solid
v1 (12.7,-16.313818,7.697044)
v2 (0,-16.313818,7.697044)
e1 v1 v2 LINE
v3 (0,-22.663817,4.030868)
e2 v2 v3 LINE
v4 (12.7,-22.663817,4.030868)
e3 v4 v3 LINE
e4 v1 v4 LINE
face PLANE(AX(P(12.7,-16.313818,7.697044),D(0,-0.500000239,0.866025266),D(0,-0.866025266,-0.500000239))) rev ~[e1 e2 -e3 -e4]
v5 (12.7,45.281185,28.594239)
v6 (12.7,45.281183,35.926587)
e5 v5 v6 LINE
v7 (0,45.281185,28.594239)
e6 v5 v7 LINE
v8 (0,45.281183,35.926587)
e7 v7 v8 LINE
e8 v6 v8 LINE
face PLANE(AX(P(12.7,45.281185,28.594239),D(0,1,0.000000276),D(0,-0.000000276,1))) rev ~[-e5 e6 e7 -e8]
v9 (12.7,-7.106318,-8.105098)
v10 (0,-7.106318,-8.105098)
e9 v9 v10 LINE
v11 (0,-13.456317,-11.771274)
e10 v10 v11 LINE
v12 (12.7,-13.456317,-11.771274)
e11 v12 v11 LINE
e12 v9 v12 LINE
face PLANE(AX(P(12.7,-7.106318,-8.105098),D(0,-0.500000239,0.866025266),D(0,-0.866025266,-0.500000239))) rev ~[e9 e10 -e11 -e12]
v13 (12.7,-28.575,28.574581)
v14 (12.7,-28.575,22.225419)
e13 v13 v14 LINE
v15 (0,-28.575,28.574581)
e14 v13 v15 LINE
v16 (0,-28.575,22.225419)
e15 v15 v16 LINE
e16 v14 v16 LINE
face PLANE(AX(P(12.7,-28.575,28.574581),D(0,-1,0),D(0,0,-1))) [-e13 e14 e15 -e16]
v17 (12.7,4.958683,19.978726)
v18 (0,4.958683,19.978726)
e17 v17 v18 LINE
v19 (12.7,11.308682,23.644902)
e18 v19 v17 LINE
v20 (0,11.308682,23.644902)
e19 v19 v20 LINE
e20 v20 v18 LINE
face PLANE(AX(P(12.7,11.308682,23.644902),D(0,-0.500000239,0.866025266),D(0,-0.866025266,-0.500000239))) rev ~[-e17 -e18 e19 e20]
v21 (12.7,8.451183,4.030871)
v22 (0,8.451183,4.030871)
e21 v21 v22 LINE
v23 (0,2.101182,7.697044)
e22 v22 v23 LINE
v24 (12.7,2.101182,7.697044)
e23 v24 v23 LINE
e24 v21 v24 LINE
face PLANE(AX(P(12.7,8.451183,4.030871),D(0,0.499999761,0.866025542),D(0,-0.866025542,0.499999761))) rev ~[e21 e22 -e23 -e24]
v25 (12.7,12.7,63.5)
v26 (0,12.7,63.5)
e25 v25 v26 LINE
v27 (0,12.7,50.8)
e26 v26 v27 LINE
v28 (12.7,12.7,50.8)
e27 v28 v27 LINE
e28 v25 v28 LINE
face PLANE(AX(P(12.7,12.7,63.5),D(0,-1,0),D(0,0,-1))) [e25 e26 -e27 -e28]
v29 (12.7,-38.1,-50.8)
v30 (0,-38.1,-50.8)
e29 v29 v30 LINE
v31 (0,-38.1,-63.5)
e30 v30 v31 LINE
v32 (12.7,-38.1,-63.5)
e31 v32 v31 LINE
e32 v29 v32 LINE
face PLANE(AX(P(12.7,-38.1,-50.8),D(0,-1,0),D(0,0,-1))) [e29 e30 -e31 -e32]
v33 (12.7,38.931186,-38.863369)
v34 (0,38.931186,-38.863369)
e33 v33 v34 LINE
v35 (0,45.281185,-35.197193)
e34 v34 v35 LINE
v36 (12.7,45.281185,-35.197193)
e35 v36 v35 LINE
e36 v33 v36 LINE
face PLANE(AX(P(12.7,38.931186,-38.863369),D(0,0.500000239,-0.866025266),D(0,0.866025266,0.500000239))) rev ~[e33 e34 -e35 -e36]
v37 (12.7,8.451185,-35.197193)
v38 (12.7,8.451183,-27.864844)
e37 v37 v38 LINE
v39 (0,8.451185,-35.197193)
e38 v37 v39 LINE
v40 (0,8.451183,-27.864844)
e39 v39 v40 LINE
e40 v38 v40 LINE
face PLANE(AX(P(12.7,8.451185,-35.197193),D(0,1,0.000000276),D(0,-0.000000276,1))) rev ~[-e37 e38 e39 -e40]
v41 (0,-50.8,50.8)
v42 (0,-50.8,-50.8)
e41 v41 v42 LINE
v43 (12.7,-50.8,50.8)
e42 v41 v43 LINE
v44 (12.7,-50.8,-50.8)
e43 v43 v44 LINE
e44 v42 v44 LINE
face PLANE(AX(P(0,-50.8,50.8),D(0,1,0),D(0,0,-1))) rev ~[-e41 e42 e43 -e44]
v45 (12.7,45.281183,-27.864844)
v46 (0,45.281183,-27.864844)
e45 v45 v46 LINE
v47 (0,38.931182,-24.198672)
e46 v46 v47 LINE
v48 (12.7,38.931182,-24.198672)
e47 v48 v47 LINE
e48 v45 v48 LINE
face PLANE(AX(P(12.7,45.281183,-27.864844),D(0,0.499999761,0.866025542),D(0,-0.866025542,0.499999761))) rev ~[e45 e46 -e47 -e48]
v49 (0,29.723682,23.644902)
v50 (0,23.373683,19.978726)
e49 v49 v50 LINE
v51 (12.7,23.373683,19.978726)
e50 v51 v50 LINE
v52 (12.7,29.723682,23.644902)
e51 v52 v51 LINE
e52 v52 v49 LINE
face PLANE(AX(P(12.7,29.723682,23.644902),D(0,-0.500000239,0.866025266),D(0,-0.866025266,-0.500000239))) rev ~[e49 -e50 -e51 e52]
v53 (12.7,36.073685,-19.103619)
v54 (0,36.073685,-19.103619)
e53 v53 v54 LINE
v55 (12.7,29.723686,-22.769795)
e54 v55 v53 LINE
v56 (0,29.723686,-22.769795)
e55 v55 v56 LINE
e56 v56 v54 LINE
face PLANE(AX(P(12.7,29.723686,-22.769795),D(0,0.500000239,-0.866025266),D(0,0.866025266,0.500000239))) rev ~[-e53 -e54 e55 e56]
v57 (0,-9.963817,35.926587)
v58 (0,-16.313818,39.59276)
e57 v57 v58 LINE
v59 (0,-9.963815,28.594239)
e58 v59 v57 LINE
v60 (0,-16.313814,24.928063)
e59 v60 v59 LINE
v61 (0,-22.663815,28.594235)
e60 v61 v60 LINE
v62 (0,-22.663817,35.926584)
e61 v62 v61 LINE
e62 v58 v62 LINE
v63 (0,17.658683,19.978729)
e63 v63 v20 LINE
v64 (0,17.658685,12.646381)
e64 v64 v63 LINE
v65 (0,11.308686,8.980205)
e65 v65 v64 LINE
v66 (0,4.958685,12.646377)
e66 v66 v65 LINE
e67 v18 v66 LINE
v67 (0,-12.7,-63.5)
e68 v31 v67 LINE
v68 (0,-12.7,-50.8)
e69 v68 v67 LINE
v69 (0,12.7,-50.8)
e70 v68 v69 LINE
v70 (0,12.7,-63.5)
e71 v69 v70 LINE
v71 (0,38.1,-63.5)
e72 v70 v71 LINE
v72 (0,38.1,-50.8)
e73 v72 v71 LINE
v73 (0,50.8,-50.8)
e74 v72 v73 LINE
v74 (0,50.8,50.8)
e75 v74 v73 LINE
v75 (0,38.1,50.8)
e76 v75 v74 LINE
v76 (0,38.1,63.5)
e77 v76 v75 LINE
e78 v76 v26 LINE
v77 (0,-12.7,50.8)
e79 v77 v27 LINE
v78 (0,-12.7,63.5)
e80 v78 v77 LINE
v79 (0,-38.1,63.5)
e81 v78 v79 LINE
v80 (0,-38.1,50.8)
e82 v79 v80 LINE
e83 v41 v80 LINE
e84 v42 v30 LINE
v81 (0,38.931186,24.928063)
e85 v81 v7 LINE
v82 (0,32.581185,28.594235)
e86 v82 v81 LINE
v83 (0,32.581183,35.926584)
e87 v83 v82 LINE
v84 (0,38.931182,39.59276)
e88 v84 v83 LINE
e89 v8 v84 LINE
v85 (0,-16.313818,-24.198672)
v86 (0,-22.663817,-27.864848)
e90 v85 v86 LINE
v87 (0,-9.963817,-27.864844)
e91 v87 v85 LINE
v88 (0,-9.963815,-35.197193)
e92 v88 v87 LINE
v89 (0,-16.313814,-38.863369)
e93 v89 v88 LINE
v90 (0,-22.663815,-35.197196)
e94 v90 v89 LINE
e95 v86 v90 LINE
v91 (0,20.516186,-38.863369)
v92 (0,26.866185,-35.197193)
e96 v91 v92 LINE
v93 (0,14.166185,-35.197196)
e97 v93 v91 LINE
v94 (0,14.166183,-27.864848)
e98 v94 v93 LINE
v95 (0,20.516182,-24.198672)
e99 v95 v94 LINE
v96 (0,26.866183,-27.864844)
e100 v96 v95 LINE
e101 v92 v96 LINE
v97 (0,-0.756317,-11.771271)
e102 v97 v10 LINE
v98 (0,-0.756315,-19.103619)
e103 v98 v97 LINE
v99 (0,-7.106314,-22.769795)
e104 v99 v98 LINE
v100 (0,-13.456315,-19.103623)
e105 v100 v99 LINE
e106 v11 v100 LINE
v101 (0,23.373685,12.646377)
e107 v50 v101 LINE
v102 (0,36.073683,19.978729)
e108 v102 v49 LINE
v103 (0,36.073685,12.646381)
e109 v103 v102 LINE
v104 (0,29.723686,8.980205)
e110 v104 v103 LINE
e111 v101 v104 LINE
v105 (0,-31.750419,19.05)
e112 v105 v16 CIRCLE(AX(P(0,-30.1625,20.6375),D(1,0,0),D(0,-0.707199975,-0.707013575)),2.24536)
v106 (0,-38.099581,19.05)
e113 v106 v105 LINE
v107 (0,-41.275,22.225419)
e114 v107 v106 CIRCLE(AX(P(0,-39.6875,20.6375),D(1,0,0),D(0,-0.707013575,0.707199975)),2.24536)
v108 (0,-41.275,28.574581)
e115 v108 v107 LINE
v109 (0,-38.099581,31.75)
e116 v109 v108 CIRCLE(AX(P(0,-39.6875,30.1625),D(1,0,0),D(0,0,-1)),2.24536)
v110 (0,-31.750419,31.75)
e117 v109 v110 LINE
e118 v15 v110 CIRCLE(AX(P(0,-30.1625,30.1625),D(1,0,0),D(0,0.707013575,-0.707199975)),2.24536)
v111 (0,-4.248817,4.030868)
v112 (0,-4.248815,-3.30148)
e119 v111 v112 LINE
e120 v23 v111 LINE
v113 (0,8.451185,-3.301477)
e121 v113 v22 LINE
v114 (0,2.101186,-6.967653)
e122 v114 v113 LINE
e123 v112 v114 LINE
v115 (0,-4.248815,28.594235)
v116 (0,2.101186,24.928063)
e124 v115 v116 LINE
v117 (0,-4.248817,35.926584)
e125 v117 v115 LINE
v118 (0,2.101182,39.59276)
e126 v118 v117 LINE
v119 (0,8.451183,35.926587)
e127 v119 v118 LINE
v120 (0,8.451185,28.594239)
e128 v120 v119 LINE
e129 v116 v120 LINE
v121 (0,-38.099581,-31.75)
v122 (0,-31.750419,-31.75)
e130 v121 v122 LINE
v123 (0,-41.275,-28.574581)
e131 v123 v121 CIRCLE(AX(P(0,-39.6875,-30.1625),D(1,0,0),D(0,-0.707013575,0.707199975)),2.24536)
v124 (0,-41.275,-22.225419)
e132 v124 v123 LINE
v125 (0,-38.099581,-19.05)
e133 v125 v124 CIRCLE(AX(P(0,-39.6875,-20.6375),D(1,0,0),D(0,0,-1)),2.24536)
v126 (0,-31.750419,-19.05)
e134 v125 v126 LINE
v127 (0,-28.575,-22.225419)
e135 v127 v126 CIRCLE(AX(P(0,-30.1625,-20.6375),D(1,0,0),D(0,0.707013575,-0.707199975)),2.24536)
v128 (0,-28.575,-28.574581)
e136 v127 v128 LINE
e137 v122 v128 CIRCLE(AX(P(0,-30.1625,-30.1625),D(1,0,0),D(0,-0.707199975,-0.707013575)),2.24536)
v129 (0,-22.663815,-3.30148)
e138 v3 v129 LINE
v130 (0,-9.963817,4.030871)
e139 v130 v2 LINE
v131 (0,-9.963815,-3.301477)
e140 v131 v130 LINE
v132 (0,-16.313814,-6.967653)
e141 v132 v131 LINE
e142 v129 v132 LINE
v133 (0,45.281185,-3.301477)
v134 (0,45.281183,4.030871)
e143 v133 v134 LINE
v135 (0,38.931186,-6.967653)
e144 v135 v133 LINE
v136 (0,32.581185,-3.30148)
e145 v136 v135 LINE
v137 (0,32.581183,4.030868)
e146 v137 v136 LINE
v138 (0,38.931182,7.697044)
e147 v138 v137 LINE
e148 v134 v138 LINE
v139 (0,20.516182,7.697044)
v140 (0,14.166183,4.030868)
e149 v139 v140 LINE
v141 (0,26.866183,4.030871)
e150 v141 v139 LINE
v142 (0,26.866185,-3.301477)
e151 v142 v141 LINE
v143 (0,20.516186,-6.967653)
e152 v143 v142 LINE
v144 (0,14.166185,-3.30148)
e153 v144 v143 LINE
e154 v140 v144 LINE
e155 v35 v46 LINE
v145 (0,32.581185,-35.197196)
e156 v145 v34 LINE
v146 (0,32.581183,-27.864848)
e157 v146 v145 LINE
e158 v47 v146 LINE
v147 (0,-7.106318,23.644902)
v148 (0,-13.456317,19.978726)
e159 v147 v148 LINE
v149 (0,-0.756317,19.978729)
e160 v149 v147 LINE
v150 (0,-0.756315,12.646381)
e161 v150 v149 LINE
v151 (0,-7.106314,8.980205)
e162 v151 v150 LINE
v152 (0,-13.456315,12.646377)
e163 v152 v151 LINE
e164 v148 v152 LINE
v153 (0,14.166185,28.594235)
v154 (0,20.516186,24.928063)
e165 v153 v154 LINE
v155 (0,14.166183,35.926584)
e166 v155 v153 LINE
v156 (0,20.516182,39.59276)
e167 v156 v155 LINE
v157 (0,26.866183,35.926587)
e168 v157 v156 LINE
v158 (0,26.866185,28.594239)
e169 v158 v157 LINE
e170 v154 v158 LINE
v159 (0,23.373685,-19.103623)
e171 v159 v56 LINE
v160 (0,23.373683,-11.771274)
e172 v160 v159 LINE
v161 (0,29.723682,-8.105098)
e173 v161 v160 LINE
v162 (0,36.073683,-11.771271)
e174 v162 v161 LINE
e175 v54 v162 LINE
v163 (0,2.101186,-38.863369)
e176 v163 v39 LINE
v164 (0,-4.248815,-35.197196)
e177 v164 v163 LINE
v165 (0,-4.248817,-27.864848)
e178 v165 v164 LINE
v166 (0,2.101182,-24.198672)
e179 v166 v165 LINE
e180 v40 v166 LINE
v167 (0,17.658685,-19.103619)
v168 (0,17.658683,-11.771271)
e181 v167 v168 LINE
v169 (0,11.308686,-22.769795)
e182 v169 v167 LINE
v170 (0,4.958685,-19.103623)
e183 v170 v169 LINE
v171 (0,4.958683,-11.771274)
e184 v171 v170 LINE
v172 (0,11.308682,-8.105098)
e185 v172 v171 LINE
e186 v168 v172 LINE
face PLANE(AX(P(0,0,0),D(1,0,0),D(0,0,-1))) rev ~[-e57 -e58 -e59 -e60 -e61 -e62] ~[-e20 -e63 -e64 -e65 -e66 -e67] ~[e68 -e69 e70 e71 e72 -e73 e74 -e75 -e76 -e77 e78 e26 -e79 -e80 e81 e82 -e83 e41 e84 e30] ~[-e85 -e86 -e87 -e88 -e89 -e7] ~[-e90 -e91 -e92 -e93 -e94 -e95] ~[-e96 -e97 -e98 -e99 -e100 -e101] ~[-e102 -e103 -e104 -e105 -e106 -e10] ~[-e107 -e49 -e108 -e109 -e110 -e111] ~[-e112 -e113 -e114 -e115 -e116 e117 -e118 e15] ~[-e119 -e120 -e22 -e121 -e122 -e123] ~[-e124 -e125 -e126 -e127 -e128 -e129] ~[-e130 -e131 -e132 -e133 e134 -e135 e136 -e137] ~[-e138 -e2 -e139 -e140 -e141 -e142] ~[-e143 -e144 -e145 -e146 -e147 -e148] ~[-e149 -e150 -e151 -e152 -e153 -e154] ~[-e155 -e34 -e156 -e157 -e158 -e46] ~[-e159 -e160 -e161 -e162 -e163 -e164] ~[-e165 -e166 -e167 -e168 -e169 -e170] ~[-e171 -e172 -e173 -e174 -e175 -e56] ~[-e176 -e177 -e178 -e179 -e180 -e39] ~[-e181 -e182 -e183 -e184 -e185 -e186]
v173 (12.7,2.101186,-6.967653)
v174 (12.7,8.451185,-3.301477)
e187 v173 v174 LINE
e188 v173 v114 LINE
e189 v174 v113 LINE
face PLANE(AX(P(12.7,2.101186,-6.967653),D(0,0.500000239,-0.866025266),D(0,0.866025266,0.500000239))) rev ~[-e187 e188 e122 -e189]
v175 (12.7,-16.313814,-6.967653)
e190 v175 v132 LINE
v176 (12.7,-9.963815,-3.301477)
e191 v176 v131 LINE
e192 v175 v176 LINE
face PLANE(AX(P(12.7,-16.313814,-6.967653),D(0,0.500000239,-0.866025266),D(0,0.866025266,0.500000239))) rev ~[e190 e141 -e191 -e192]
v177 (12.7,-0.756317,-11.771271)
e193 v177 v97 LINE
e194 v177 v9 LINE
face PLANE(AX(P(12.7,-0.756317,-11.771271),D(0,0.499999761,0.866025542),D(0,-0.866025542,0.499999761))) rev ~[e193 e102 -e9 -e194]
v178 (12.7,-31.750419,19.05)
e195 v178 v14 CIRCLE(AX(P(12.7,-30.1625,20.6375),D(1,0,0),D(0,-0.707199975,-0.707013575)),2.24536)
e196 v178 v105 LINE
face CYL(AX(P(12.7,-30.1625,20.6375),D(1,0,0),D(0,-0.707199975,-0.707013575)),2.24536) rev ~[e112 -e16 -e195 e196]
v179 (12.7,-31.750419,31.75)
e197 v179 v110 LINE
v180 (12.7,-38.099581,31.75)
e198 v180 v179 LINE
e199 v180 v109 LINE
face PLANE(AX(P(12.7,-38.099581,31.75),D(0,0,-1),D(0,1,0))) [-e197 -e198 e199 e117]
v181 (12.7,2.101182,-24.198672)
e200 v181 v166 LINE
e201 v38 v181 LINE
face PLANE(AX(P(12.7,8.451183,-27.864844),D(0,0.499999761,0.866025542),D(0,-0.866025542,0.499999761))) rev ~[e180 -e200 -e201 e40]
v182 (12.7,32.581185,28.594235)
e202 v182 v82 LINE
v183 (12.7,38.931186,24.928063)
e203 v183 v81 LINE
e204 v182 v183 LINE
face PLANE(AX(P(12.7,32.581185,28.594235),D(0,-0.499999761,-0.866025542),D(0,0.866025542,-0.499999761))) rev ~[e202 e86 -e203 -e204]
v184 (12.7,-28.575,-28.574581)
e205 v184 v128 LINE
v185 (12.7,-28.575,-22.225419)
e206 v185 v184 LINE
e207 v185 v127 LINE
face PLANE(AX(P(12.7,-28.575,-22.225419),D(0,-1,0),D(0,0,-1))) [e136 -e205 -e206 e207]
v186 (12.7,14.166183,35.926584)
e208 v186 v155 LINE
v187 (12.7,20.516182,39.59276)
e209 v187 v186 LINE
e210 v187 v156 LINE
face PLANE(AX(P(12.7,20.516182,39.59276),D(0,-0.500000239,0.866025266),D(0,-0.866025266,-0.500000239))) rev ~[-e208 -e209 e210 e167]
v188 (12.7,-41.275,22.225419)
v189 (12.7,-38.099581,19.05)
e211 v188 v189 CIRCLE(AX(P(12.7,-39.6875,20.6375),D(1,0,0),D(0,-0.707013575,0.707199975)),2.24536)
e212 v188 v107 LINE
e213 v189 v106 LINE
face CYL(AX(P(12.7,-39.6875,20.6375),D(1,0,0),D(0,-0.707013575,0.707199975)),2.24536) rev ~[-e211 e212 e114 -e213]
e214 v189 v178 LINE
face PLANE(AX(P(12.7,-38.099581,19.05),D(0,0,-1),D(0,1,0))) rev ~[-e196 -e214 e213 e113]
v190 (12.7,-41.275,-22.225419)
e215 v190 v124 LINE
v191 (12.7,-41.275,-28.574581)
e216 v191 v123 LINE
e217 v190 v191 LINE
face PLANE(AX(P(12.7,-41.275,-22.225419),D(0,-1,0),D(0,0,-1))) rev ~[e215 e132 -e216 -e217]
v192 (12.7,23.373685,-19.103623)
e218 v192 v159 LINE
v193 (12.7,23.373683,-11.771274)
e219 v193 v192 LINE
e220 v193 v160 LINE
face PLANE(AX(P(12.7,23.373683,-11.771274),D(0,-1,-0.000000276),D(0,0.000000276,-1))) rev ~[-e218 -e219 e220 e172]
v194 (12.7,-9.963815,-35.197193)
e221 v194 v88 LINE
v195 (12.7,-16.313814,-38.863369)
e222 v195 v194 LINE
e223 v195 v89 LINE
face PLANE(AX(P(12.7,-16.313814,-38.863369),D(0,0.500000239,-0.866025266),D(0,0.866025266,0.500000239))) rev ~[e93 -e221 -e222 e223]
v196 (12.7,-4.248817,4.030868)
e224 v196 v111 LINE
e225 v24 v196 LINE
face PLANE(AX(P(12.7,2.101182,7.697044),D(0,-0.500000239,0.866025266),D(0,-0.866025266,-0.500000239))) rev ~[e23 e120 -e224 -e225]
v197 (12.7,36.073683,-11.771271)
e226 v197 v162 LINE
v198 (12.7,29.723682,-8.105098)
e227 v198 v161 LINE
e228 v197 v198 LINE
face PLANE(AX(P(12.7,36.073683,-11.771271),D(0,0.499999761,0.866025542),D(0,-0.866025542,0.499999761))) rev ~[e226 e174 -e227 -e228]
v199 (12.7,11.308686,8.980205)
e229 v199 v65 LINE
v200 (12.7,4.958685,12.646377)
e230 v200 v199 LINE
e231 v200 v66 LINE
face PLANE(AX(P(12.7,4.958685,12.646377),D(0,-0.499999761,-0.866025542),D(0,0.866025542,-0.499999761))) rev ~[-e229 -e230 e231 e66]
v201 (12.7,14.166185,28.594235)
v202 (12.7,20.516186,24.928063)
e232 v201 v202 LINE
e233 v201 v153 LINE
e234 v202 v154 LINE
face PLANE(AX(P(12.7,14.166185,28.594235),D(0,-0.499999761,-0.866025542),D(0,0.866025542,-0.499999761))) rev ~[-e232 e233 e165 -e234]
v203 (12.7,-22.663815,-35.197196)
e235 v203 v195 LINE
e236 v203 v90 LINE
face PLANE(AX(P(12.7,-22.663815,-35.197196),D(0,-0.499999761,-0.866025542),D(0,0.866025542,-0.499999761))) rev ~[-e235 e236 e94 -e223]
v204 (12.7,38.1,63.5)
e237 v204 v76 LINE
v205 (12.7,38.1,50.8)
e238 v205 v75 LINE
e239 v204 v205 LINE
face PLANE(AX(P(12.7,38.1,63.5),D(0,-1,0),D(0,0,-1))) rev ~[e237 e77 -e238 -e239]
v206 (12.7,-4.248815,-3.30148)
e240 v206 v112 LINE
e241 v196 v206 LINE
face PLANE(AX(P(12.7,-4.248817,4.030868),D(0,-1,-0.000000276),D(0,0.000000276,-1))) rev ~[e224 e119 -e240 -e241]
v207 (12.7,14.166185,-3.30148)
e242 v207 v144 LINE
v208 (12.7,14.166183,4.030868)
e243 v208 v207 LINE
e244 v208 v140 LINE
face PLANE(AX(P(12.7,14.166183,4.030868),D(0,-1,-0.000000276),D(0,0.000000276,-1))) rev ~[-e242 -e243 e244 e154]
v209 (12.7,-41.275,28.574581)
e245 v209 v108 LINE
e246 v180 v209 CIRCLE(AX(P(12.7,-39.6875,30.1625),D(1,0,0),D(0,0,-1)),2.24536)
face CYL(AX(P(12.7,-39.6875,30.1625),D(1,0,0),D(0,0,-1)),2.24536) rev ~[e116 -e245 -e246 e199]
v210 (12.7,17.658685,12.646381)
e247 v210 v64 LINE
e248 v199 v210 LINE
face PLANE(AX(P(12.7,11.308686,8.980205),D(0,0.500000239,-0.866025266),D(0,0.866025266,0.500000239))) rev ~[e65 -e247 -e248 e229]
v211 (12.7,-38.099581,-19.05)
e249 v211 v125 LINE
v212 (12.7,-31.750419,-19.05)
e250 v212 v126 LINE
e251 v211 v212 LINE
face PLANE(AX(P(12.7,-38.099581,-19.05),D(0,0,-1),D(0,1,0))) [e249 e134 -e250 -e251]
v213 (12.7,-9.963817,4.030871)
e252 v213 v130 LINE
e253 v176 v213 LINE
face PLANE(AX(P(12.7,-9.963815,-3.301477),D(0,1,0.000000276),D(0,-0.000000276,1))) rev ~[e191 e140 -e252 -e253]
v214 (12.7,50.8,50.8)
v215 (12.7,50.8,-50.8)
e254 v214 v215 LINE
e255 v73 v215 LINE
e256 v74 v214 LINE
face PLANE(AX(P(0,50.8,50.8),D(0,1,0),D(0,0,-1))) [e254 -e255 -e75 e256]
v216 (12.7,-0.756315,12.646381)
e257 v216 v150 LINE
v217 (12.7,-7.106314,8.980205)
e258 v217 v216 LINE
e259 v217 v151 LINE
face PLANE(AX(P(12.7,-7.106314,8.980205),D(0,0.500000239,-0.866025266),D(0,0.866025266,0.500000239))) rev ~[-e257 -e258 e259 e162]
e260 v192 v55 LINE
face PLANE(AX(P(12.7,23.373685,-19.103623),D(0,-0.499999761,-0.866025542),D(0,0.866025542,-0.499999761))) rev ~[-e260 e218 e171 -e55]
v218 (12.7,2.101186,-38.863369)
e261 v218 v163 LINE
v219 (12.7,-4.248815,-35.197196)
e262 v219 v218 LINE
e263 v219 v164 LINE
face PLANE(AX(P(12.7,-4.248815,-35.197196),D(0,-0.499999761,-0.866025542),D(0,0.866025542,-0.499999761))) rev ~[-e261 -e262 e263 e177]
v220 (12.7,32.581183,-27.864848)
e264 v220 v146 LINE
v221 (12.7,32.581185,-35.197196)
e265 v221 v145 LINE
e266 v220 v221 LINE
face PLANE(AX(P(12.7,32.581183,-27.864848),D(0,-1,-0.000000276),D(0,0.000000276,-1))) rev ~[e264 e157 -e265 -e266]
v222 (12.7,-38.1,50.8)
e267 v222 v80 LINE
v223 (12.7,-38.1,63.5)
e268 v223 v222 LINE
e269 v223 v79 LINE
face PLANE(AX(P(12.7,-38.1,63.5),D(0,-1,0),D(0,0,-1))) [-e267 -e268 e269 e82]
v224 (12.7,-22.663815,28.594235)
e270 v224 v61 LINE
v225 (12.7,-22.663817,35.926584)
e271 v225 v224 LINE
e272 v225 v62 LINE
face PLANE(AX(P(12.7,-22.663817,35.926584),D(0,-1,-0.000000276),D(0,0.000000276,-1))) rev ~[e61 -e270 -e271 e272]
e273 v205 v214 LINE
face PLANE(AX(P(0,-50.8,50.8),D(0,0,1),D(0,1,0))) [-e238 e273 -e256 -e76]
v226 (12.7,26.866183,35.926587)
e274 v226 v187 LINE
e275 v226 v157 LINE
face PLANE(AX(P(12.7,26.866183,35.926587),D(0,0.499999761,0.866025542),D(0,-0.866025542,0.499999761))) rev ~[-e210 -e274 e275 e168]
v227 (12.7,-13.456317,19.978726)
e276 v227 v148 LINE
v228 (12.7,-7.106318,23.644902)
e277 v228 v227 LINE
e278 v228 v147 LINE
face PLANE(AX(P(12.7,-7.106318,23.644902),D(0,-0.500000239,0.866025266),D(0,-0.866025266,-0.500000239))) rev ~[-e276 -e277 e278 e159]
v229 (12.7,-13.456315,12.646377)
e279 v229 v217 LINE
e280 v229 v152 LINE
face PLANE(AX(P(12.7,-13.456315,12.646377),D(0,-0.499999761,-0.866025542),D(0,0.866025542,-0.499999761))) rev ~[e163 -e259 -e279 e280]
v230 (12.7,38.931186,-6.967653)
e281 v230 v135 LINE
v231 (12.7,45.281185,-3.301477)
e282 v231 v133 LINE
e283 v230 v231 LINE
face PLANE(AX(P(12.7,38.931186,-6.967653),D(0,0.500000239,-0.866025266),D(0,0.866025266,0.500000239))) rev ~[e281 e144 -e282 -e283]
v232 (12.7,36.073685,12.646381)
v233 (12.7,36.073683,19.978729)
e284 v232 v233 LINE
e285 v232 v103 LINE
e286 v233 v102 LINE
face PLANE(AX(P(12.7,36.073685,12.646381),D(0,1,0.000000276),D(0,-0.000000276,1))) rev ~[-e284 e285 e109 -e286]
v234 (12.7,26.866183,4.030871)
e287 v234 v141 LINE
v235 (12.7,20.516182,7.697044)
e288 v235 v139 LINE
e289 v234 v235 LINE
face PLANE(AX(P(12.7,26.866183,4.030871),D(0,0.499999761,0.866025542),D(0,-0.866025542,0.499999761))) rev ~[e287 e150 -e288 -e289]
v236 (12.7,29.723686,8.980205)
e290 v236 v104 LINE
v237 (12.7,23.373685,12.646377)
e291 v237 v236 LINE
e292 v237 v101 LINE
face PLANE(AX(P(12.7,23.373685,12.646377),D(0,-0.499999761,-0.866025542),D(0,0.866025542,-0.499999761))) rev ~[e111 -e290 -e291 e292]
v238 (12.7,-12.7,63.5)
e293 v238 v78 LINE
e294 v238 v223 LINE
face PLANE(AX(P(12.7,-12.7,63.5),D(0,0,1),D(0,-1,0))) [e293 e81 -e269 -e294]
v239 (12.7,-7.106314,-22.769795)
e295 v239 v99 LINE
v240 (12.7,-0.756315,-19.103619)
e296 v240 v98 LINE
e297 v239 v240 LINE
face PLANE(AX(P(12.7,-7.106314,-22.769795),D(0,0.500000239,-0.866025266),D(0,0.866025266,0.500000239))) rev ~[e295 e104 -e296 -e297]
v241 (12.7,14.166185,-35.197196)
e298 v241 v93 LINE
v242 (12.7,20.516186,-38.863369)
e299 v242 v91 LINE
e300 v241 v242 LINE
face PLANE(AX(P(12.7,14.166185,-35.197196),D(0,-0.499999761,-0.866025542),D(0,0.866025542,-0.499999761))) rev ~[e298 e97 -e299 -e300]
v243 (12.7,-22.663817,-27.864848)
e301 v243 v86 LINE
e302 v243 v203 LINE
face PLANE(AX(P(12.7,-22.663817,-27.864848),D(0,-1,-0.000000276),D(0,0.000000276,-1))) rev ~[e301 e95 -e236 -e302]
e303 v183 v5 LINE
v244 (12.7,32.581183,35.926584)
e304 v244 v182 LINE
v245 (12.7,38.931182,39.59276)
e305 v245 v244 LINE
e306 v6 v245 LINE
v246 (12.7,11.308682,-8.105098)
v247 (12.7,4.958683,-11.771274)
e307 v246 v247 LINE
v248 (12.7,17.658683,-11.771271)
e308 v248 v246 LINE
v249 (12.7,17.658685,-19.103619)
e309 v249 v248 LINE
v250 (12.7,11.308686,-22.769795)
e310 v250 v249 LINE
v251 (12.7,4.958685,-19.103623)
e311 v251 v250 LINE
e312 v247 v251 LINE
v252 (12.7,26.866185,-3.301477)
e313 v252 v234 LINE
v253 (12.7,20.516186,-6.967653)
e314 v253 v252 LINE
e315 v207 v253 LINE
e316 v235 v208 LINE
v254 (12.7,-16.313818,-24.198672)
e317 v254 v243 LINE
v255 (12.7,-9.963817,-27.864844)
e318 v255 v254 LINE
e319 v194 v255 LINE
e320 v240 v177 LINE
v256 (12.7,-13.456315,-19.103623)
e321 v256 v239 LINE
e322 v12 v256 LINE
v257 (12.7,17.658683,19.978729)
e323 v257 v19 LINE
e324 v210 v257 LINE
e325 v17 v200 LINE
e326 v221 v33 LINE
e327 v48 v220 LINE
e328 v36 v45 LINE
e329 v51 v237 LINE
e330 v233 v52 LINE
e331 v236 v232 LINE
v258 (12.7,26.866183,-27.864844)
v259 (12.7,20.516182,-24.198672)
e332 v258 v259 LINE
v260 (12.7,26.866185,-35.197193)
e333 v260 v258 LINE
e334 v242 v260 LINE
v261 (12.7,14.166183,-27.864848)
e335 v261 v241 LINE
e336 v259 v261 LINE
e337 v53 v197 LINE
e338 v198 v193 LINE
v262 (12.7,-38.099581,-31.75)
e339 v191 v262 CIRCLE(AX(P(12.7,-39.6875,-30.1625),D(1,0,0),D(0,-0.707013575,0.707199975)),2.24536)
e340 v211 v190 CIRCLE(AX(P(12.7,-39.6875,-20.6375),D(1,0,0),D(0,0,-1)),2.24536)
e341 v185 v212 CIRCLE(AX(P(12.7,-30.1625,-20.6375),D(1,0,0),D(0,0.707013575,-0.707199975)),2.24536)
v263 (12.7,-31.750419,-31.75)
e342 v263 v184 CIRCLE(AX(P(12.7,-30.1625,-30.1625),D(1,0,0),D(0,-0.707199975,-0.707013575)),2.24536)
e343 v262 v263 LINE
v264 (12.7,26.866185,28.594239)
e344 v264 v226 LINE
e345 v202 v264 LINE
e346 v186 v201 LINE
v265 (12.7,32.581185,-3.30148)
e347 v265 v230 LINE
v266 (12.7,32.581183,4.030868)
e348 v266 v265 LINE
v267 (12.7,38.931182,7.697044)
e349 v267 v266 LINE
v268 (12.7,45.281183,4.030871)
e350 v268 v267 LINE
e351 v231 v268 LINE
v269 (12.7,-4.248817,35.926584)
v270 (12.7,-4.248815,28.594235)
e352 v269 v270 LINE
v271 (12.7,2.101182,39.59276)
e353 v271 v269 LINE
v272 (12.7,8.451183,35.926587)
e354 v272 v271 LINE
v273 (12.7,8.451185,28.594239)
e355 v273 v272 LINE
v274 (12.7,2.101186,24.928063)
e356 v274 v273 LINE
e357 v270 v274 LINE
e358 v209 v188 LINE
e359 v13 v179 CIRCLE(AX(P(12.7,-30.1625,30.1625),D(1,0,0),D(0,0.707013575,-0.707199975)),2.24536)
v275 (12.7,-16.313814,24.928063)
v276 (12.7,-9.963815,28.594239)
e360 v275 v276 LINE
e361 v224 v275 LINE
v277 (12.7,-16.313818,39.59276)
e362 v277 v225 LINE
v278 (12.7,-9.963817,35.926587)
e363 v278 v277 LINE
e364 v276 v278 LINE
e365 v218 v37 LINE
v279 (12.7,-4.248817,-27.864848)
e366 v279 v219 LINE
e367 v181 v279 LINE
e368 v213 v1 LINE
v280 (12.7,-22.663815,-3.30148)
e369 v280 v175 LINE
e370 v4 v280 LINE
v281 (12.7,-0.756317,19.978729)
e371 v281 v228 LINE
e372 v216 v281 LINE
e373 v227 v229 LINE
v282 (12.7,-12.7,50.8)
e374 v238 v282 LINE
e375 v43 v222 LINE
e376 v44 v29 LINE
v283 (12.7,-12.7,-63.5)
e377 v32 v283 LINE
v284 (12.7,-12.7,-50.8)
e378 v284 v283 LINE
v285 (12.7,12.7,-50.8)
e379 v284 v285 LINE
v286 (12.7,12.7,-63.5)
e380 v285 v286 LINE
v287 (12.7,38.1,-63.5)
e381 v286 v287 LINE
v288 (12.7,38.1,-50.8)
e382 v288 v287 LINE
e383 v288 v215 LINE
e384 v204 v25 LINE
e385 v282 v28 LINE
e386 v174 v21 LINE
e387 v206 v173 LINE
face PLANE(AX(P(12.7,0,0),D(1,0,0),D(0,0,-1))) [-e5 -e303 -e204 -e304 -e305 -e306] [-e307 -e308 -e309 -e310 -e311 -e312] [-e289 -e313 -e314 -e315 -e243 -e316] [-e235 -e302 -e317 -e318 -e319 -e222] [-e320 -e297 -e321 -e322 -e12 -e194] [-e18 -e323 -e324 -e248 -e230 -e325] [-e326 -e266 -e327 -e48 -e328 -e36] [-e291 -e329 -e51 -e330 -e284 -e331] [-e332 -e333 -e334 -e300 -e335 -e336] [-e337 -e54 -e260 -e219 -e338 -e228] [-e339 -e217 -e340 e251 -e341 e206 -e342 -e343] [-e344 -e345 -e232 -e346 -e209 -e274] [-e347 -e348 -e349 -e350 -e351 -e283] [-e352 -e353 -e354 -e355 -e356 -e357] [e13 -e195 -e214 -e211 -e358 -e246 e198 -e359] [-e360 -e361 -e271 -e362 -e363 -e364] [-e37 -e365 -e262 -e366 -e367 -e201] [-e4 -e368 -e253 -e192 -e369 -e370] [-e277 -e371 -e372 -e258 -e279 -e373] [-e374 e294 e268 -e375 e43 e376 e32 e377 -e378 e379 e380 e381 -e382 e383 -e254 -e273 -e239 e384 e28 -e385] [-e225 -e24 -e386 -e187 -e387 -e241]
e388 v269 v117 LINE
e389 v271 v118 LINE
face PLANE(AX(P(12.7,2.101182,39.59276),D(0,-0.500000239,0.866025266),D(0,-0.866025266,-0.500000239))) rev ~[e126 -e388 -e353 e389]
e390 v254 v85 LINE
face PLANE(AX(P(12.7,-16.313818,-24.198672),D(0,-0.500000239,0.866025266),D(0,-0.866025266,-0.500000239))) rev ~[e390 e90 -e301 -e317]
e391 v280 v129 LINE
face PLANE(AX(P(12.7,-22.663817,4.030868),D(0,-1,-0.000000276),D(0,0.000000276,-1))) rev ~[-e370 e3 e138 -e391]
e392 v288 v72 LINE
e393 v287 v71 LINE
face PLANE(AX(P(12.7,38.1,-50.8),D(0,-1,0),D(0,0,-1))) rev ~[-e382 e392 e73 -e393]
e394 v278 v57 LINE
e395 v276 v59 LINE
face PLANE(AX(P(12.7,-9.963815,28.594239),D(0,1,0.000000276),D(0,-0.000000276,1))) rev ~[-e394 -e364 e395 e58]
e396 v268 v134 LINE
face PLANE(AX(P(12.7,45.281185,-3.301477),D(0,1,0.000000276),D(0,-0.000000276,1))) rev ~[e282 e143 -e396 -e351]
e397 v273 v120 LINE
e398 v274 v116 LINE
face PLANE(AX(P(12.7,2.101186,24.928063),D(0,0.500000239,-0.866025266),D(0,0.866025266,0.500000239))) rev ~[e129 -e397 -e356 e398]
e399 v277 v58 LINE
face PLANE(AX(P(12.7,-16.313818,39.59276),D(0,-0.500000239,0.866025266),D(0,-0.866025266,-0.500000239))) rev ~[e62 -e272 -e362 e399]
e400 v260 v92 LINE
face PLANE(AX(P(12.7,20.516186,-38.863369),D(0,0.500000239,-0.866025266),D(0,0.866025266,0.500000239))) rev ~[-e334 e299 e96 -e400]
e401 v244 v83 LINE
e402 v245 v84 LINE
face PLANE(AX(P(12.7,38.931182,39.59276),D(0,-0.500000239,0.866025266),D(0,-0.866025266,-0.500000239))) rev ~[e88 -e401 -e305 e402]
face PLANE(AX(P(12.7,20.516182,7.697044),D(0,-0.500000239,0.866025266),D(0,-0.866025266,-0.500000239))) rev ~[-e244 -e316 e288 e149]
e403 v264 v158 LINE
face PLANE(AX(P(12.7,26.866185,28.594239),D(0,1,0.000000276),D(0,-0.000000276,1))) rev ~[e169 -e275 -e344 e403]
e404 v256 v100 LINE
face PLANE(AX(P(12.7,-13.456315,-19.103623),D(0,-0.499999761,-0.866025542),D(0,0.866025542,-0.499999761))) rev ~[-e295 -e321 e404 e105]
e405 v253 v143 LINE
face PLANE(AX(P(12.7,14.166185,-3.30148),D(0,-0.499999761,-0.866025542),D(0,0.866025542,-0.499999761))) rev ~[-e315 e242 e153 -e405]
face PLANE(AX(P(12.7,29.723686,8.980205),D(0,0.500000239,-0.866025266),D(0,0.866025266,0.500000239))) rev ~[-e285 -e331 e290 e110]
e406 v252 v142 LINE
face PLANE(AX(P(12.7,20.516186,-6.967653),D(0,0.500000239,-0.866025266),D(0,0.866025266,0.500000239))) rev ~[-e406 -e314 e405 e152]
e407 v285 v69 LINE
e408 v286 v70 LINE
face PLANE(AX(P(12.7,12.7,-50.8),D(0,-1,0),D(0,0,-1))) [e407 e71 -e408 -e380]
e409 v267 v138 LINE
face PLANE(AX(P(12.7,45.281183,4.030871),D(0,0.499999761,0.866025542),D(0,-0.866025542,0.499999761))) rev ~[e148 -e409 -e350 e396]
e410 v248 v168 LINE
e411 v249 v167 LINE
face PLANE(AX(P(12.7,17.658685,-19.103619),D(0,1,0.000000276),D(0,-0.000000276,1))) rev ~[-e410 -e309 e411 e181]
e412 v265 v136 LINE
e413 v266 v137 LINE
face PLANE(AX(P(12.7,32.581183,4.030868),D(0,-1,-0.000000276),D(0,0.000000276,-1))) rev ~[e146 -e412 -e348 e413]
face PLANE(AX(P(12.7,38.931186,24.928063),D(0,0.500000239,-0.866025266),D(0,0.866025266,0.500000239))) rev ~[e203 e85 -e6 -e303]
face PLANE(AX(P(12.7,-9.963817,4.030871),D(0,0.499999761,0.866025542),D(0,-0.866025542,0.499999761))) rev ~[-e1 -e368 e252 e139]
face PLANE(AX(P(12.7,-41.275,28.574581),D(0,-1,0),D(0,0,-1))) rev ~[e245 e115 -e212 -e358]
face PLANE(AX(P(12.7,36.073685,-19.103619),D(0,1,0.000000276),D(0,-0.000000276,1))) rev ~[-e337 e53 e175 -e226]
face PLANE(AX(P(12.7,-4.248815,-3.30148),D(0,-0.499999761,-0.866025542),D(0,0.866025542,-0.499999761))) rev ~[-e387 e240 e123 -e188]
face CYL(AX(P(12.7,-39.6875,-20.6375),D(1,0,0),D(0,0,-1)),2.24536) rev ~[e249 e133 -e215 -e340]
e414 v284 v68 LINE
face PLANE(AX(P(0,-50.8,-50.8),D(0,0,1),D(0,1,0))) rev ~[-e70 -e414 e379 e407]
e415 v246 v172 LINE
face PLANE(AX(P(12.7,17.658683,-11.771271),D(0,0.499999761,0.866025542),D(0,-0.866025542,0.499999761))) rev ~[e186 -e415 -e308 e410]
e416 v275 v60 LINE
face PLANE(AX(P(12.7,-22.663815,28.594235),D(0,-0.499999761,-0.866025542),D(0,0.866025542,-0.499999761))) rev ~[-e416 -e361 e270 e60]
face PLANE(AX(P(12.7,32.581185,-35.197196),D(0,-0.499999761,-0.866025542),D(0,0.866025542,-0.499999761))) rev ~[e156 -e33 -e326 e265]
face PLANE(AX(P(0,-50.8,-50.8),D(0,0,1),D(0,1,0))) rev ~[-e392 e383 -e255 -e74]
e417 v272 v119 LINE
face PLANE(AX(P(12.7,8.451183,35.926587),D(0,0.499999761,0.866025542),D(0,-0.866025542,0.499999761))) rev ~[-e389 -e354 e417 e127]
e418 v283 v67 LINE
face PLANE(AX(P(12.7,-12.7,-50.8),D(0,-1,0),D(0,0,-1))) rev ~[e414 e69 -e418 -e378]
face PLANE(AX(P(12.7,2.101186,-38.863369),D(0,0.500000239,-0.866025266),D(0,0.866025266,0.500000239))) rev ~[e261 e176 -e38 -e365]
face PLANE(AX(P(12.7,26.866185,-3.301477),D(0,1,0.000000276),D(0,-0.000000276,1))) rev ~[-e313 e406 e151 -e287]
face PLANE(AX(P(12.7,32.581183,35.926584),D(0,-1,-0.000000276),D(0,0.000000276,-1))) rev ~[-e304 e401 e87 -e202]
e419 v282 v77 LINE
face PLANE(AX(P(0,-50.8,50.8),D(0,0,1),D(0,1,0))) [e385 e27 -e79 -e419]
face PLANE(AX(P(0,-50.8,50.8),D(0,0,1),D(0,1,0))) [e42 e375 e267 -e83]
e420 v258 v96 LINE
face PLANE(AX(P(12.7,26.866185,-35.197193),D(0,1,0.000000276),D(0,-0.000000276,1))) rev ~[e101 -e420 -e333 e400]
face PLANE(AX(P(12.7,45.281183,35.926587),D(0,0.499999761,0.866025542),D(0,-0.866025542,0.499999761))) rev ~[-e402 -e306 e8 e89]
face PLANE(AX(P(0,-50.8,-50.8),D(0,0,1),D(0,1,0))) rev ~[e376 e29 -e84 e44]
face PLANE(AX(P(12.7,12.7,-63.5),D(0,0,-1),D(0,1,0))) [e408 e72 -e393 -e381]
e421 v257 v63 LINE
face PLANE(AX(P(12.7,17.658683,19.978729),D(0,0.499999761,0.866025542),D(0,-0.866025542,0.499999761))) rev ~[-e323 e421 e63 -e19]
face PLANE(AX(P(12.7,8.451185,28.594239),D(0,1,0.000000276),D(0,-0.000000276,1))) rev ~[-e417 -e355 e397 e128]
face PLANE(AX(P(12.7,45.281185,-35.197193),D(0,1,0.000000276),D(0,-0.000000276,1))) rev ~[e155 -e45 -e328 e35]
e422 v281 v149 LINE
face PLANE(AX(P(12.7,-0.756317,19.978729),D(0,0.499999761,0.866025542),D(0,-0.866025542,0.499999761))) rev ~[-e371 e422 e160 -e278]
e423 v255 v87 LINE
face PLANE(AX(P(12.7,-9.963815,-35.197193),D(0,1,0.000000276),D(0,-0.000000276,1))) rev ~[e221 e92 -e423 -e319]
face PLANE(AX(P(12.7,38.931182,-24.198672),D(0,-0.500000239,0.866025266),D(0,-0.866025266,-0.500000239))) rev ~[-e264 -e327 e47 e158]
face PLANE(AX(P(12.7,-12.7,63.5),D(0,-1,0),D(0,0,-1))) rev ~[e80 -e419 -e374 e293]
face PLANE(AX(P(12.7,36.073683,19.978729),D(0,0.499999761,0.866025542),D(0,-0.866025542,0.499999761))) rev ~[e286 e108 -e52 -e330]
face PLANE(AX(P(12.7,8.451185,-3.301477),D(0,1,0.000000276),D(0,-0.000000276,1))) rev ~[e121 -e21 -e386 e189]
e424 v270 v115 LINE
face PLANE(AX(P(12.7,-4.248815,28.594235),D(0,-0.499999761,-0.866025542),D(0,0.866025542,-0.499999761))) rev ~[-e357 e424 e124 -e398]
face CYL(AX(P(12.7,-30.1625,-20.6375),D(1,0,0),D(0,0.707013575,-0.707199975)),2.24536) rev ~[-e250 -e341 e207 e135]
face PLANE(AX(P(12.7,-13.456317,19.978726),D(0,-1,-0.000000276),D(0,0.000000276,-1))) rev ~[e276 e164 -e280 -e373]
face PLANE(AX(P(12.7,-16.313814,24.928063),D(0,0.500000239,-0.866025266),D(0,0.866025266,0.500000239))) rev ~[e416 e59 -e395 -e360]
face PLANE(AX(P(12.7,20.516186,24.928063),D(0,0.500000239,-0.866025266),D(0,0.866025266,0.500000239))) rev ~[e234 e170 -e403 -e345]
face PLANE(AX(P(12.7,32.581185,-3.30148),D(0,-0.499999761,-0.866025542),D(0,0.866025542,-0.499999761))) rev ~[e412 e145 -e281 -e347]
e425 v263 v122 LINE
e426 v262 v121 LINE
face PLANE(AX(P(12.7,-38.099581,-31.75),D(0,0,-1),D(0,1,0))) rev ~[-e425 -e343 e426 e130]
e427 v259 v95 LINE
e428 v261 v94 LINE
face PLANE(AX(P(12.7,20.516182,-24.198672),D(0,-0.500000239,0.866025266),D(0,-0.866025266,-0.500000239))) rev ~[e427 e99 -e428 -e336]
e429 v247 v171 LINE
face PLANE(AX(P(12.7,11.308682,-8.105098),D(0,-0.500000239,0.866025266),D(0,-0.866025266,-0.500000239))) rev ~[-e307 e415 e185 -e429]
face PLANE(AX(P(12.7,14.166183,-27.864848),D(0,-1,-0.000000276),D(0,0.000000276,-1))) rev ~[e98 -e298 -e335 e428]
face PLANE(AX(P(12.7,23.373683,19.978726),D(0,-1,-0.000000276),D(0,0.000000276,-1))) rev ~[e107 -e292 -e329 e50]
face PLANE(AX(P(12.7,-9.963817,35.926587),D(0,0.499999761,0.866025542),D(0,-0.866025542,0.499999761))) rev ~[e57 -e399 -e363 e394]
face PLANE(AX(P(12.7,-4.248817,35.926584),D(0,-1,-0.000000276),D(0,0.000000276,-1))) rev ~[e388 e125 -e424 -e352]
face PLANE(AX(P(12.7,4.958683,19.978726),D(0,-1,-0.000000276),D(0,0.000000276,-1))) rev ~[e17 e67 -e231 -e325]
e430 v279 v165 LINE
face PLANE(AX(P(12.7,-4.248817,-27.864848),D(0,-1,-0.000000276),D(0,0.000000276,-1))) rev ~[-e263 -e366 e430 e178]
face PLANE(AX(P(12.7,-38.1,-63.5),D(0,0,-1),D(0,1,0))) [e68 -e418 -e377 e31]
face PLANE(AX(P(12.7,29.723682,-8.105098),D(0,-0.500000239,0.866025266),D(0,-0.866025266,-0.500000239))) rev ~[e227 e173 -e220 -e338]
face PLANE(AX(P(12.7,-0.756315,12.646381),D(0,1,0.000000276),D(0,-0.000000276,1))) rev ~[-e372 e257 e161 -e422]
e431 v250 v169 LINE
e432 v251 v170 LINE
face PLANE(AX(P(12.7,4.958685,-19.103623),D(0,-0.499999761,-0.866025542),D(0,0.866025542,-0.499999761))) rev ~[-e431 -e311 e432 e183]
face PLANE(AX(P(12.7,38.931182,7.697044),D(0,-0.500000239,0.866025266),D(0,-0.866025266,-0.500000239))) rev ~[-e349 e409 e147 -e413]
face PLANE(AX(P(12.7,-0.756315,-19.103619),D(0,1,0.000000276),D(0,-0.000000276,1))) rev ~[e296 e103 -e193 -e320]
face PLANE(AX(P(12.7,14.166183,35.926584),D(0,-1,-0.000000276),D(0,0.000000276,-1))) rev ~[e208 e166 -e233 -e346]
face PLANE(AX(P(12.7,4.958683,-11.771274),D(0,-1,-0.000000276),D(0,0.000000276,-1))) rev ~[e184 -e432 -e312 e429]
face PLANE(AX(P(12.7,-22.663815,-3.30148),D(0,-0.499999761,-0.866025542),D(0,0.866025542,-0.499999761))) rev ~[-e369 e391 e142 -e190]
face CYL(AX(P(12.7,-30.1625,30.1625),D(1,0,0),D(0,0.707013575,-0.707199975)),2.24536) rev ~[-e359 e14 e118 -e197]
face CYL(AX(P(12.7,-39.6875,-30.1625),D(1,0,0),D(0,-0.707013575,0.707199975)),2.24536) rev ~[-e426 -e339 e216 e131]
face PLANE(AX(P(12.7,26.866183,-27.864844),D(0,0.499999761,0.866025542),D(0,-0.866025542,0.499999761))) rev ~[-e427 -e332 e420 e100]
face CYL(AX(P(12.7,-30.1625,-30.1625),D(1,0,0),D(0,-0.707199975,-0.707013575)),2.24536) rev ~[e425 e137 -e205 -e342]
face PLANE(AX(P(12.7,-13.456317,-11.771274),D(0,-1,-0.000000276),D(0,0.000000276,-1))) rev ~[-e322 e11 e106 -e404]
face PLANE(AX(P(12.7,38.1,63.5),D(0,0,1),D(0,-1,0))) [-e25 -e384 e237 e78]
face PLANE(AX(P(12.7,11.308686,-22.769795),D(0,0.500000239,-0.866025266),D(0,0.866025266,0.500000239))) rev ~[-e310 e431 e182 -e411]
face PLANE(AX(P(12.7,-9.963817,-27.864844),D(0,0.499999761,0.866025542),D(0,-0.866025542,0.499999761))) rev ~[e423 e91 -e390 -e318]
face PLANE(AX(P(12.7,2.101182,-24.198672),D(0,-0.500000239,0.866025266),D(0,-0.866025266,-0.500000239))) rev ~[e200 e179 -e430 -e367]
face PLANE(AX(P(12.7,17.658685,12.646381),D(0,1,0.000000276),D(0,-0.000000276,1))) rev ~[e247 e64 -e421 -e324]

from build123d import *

# Parameters (mm, degrees)
SKETCH3_W                 = 101.6
SKETCH3_H                 = 101.6
SQUARE_EXTRUSION_DEPTH    = 12.7
SKETCH4_R                 = 2.24536
SKETCH4_W                 = 12.7
SKETCH4_H                 = 12.7
SLOTTING_HOLES_DEPTH      = 12.7
HONEYCOMB_POCKETING_DEPTH = 12.7
SKETCH10_W                = 12.7
SKETCH10_H                = 12.7
SIDE_SLOTS_DEPTH          = 12.7


with BuildPart() as part:
    # Sketch3 → Square Extrusion (new body)
    with BuildSketch(Plane(origin=(0, 0, 0), x_dir=(0, 0, -1), z_dir=(1, 0, 0))):
        Rectangle(SKETCH3_W, SKETCH3_H)
    extrude(amount=SQUARE_EXTRUSION_DEPTH)

    # Sketch4 → Slotting Holes (cut)
    with BuildSketch(Plane(origin=(12.7, 0, 0), x_dir=(0, 0, -1), z_dir=(1, 0, 0))):
        with BuildLine():
            ThreePointArc((-28.574581463, -28.575), (-31.750209282, -28.574790718), (-31.75, -31.750418537))
            Line((-31.75, -31.750418537), (-31.75, -28.575))
            Line((-31.75, -28.575), (-28.574581463, -28.575))
        make_face()
        with BuildLine():
            Line((-31.75, -28.575), (-31.75, -31.750418537))
            ThreePointArc((-31.75, -31.750418537), (-29.303101219, -32.236885515), (-27.91714, -30.1625))
            ThreePointArc((-27.91714, -30.1625), (-28.08800123, -29.303374641), (-28.574581463, -28.575))
            Line((-28.574581463, -28.575), (-31.75, -28.575))
        make_face()
        with Locations((-30.1625, -39.6875)):
            Circle(SKETCH4_R)
        with Locations((-20.6375, -39.6875)):
            Circle(SKETCH4_R)
        with Locations((-20.6375, -30.1625)):
            Circle(SKETCH4_R)
        with Locations((-30.1625, -30.1625)):
            Circle(SKETCH4_R)
        with Locations((-25.4, -34.925)):
            Rectangle(SKETCH4_W, SKETCH4_H)
        with BuildLine():
            ThreePointArc((-22.225418537, -28.575), (-22.225209282, -31.750209282), (-19.05, -31.750418537))
            Line((-19.05, -31.750418537), (-19.05, -28.575))
            Line((-19.05, -28.575), (-22.225418537, -28.575))
        make_face()
        with BuildLine():
            Line((-19.05, -28.575), (-19.05, -31.750418537))
            ThreePointArc((-19.05, -31.750418537), (-18.563114485, -31.021898781), (-18.39214, -30.1625))
            ThreePointArc((-18.39214, -30.1625), (-19.778374641, -28.08800123), (-22.225418537, -28.575))
            Line((-22.225418537, -28.575), (-19.05, -28.575))
        make_face()
        with BuildLine():
            Line((-31.75, -38.099581463), (-31.75, -41.275))
            Line((-31.75, -41.275), (-28.574581463, -41.275))
            ThreePointArc((-28.574581463, -41.275), (-28.08800123, -40.546625359), (-27.91714, -39.6875))
            ThreePointArc((-27.91714, -39.6875), (-29.303101219, -37.613114485), (-31.75, -38.099581463))
        make_face()
        with BuildLine():
            Line((-28.574581463, -41.275), (-31.75, -41.275))
            Line((-31.75, -41.275), (-31.75, -38.099581463))
            ThreePointArc((-31.75, -38.099581463), (-31.750209282, -41.275209282), (-28.574581463, -41.275))
        make_face()
        with BuildLine():
            ThreePointArc((-19.05, -38.099581463), (-22.225209282, -38.099790718), (-22.225418537, -41.275))
            Line((-22.225418537, -41.275), (-19.05, -41.275))
            Line((-19.05, -41.275), (-19.05, -38.099581463))
        make_face()
        with BuildLine():
            Line((-19.05, -41.275), (-22.225418537, -41.275))
            ThreePointArc((-22.225418537, -41.275), (-19.778374641, -41.76199877), (-18.39214, -39.6875))
            ThreePointArc((-18.39214, -39.6875), (-18.563114485, -38.828101219), (-19.05, -38.099581463))
            Line((-19.05, -38.099581463), (-19.05, -41.275))
        make_face()
        with BuildLine():
            ThreePointArc((22.88286, -30.1625), (22.71199877, -29.303374641), (22.225418537, -28.575))
            Line((22.225418537, -28.575), (19.05, -28.575))
            Line((19.05, -28.575), (19.05, -31.750418537))
            ThreePointArc((19.05, -31.750418537), (21.496898781, -32.236885515), (22.88286, -30.1625))
        make_face()
        with BuildLine():
            Line((19.05, -28.575), (22.225418537, -28.575))
            ThreePointArc((22.225418537, -28.575), (19.049790718, -28.574790718), (19.05, -31.750418537))
            Line((19.05, -31.750418537), (19.05, -28.575))
        make_face()
        with Locations((30.1625, -30.1625)):
            Circle(SKETCH4_R)
        with Locations((20.6375, -30.1625)):
            Circle(SKETCH4_R)
        with Locations((20.6375, -39.6875)):
            Circle(SKETCH4_R)
        with Locations((30.1625, -39.6875)):
            Circle(SKETCH4_R)
        with Locations((25.4, -34.925)):
            Rectangle(SKETCH4_W, SKETCH4_H)
        with BuildLine():
            Line((31.75, -31.750418537), (31.75, -28.575))
            Line((31.75, -28.575), (28.574581463, -28.575))
            ThreePointArc((28.574581463, -28.575), (28.574790718, -31.750209282), (31.75, -31.750418537))
        make_face()
        with BuildLine():
            Line((28.574581463, -28.575), (31.75, -28.575))
            Line((31.75, -28.575), (31.75, -31.750418537))
            ThreePointArc((31.75, -31.750418537), (32.236885515, -31.021898781), (32.40786, -30.1625))
            ThreePointArc((32.40786, -30.1625), (31.021625359, -28.08800123), (28.574581463, -28.575))
        make_face()
        with BuildLine():
            ThreePointArc((32.40786, -39.6875), (32.236885515, -38.828101219), (31.75, -38.099581463))
            Line((31.75, -38.099581463), (31.75, -41.275))
            Line((31.75, -41.275), (28.574581463, -41.275))
            ThreePointArc((28.574581463, -41.275), (31.021625359, -41.76199877), (32.40786, -39.6875))
        make_face()
        with BuildLine():
            Line((31.75, -41.275), (31.75, -38.099581463))
            ThreePointArc((31.75, -38.099581463), (28.574790718, -38.099790718), (28.574581463, -41.275))
            Line((28.574581463, -41.275), (31.75, -41.275))
        make_face()
        with BuildLine():
            ThreePointArc((22.88286, -39.6875), (21.496898781, -37.613114485), (19.05, -38.099581463))
            Line((19.05, -38.099581463), (19.05, -41.275))
            Line((19.05, -41.275), (22.225418537, -41.275))
            ThreePointArc((22.225418537, -41.275), (22.71199877, -40.546625359), (22.88286, -39.6875))
        make_face()
        with BuildLine():
            Line((19.05, -41.275), (19.05, -38.099581463))
            ThreePointArc((19.05, -38.099581463), (19.049790718, -41.275209282), (22.225418537, -41.275))
            Line((22.225418537, -41.275), (19.05, -41.275))
        make_face()
    extrude(amount=-SLOTTING_HOLES_DEPTH, mode=Mode.SUBTRACT)

    # Sketch9 → Honeycomb Pocketing (cut)
    with BuildSketch(Plane(origin=(12.7, 0, 0), x_dir=(0, 0, -1), z_dir=(1, 0, 0))):
        Polygon((6.96765294, 38.931186014), (3.301476978, 45.281185003), (-4.03087144, 45.28118298), (-7.697043898, 38.931181968), (-4.030867936, 32.58118298), (3.301480483, 32.581185003), align=None)
        Polygon((-24.928062682, 38.931186014), (-28.594238643, 45.281185003), (-35.926587062, 45.28118298), (-39.592759519, 38.931181968), (-35.926583558, 32.58118298), (-28.594235139, 32.581185003), align=None)
        Polygon((38.863368561, 38.931186014), (35.1971926, 45.281185003), (27.864844181, 45.28118298), (24.198671724, 38.931181968), (27.864847685, 32.58118298), (35.197196104, 32.581185003), align=None)
        Polygon((-8.980204871, 29.723686014), (-12.646380832, 36.073685003), (-19.978729251, 36.07368298), (-23.644901708, 29.723681968), (-19.978725747, 23.37368298), (-12.646377328, 23.373685003), align=None)
        Polygon((22.769795129, 29.723686014), (19.103619168, 36.073685003), (11.771270749, 36.07368298), (8.105098292, 29.723681968), (11.771274253, 23.37368298), (19.103622672, 23.373685003), align=None)
        Polygon((-24.928062682, 20.516186014), (-28.594238643, 26.866185003), (-35.926587062, 26.86618298), (-39.592759519, 20.516181968), (-35.926583558, 14.16618298), (-28.594235139, 14.166185003), align=None)
        Polygon((6.96765294, 20.516186014), (3.301476978, 26.866185003), (-4.03087144, 26.86618298), (-7.697043898, 20.516181968), (-4.030867936, 14.16618298), (3.301480483, 14.166185003), align=None)
        Polygon((38.863368561, 20.516186014), (35.1971926, 26.866185003), (27.864844181, 26.86618298), (24.198671724, 20.516181968), (27.864847685, 14.16618298), (35.197196104, 14.166185003), align=None)
        Polygon((-24.928062682, 2.101186014), (-28.594238643, 8.451185003), (-35.926587062, 8.45118298), (-39.592759519, 2.101181968), (-35.926583558, -4.24881702), (-28.594235139, -4.248814997), align=None)
        Polygon((-8.980204871, -7.106313986), (-12.646380832, -0.756314997), (-19.978729251, -0.75631702), (-23.644901708, -7.106318032), (-19.978725747, -13.45631702), (-12.646377328, -13.456314997), align=None)
        Polygon((6.96765294, 2.101186014), (3.301476978, 8.451185003), (-4.03087144, 8.45118298), (-7.697043898, 2.101181968), (-4.030867936, -4.24881702), (3.301480483, -4.248814997), align=None)
        Polygon((22.769795129, -7.106313986), (19.103619168, -0.756314997), (11.771270749, -0.75631702), (8.105098292, -7.106318032), (11.771274253, -13.45631702), (19.103622672, -13.456314997), align=None)
        Polygon((38.863368561, 2.101186014), (35.1971926, 8.451185003), (27.864844181, 8.45118298), (24.198671724, 2.101181968), (27.864847685, -4.24881702), (35.197196104, -4.248814997), align=None)
        Polygon((38.863368561, -16.313813986), (35.1971926, -9.963814997), (27.864844181, -9.96381702), (24.198671724, -16.313818032), (27.864847685, -22.66381702), (35.197196104, -22.663814997), align=None)
        Polygon((6.96765294, -16.313813986), (3.301476978, -9.963814997), (-4.03087144, -9.96381702), (-7.697043898, -16.313818032), (-4.030867936, -22.66381702), (3.301480483, -22.663814997), align=None)
        Polygon((-24.928062682, -16.313813986), (-28.594238643, -9.963814997), (-35.926587062, -9.96381702), (-39.592759519, -16.313818032), (-35.926583558, -22.66381702), (-28.594235139, -22.663814997), align=None)
        Polygon((22.769795129, 11.308686014), (19.103619168, 17.658685003), (11.771270749, 17.65868298), (8.105098292, 11.308681968), (11.771274253, 4.95868298), (19.103622672, 4.958685003), align=None)
        Polygon((-8.980204871, 11.308686014), (-12.646380832, 17.658685003), (-19.978729251, 17.65868298), (-23.644901708, 11.308681968), (-19.978725747, 4.95868298), (-12.646377328, 4.958685003), align=None)
    extrude(amount=-HONEYCOMB_POCKETING_DEPTH, mode=Mode.SUBTRACT)

    # Sketch10 → Side Slots (add)
    with BuildSketch(Plane(origin=(12.7, 0, 0), x_dir=(0, 0, -1), z_dir=(1, 0, 0))):
        with Locations((-57.15, 31.75)):
            Rectangle(SKETCH10_W, SKETCH10_H)
        with Locations((-57.15, 19.05)):
            Rectangle(SKETCH10_W, SKETCH10_H)
        with Locations((-57.15, -19.05)):
            Rectangle(SKETCH10_W, SKETCH10_H)
        with Locations((-57.15, -31.75)):
            Rectangle(SKETCH10_W, SKETCH10_H)
        with Locations((57.15, -19.05)):
            Rectangle(SKETCH10_W, SKETCH10_H)
        with Locations((57.15, -31.75)):
            Rectangle(SKETCH10_W, SKETCH10_H)
        with Locations((57.15, 19.05)):
            Rectangle(SKETCH10_W, SKETCH10_H)
        with Locations((57.15, 31.75)):
            Rectangle(SKETCH10_W, SKETCH10_H)
    extrude(amount=-SIDE_SLOTS_DEPTH)


solid = part.part
